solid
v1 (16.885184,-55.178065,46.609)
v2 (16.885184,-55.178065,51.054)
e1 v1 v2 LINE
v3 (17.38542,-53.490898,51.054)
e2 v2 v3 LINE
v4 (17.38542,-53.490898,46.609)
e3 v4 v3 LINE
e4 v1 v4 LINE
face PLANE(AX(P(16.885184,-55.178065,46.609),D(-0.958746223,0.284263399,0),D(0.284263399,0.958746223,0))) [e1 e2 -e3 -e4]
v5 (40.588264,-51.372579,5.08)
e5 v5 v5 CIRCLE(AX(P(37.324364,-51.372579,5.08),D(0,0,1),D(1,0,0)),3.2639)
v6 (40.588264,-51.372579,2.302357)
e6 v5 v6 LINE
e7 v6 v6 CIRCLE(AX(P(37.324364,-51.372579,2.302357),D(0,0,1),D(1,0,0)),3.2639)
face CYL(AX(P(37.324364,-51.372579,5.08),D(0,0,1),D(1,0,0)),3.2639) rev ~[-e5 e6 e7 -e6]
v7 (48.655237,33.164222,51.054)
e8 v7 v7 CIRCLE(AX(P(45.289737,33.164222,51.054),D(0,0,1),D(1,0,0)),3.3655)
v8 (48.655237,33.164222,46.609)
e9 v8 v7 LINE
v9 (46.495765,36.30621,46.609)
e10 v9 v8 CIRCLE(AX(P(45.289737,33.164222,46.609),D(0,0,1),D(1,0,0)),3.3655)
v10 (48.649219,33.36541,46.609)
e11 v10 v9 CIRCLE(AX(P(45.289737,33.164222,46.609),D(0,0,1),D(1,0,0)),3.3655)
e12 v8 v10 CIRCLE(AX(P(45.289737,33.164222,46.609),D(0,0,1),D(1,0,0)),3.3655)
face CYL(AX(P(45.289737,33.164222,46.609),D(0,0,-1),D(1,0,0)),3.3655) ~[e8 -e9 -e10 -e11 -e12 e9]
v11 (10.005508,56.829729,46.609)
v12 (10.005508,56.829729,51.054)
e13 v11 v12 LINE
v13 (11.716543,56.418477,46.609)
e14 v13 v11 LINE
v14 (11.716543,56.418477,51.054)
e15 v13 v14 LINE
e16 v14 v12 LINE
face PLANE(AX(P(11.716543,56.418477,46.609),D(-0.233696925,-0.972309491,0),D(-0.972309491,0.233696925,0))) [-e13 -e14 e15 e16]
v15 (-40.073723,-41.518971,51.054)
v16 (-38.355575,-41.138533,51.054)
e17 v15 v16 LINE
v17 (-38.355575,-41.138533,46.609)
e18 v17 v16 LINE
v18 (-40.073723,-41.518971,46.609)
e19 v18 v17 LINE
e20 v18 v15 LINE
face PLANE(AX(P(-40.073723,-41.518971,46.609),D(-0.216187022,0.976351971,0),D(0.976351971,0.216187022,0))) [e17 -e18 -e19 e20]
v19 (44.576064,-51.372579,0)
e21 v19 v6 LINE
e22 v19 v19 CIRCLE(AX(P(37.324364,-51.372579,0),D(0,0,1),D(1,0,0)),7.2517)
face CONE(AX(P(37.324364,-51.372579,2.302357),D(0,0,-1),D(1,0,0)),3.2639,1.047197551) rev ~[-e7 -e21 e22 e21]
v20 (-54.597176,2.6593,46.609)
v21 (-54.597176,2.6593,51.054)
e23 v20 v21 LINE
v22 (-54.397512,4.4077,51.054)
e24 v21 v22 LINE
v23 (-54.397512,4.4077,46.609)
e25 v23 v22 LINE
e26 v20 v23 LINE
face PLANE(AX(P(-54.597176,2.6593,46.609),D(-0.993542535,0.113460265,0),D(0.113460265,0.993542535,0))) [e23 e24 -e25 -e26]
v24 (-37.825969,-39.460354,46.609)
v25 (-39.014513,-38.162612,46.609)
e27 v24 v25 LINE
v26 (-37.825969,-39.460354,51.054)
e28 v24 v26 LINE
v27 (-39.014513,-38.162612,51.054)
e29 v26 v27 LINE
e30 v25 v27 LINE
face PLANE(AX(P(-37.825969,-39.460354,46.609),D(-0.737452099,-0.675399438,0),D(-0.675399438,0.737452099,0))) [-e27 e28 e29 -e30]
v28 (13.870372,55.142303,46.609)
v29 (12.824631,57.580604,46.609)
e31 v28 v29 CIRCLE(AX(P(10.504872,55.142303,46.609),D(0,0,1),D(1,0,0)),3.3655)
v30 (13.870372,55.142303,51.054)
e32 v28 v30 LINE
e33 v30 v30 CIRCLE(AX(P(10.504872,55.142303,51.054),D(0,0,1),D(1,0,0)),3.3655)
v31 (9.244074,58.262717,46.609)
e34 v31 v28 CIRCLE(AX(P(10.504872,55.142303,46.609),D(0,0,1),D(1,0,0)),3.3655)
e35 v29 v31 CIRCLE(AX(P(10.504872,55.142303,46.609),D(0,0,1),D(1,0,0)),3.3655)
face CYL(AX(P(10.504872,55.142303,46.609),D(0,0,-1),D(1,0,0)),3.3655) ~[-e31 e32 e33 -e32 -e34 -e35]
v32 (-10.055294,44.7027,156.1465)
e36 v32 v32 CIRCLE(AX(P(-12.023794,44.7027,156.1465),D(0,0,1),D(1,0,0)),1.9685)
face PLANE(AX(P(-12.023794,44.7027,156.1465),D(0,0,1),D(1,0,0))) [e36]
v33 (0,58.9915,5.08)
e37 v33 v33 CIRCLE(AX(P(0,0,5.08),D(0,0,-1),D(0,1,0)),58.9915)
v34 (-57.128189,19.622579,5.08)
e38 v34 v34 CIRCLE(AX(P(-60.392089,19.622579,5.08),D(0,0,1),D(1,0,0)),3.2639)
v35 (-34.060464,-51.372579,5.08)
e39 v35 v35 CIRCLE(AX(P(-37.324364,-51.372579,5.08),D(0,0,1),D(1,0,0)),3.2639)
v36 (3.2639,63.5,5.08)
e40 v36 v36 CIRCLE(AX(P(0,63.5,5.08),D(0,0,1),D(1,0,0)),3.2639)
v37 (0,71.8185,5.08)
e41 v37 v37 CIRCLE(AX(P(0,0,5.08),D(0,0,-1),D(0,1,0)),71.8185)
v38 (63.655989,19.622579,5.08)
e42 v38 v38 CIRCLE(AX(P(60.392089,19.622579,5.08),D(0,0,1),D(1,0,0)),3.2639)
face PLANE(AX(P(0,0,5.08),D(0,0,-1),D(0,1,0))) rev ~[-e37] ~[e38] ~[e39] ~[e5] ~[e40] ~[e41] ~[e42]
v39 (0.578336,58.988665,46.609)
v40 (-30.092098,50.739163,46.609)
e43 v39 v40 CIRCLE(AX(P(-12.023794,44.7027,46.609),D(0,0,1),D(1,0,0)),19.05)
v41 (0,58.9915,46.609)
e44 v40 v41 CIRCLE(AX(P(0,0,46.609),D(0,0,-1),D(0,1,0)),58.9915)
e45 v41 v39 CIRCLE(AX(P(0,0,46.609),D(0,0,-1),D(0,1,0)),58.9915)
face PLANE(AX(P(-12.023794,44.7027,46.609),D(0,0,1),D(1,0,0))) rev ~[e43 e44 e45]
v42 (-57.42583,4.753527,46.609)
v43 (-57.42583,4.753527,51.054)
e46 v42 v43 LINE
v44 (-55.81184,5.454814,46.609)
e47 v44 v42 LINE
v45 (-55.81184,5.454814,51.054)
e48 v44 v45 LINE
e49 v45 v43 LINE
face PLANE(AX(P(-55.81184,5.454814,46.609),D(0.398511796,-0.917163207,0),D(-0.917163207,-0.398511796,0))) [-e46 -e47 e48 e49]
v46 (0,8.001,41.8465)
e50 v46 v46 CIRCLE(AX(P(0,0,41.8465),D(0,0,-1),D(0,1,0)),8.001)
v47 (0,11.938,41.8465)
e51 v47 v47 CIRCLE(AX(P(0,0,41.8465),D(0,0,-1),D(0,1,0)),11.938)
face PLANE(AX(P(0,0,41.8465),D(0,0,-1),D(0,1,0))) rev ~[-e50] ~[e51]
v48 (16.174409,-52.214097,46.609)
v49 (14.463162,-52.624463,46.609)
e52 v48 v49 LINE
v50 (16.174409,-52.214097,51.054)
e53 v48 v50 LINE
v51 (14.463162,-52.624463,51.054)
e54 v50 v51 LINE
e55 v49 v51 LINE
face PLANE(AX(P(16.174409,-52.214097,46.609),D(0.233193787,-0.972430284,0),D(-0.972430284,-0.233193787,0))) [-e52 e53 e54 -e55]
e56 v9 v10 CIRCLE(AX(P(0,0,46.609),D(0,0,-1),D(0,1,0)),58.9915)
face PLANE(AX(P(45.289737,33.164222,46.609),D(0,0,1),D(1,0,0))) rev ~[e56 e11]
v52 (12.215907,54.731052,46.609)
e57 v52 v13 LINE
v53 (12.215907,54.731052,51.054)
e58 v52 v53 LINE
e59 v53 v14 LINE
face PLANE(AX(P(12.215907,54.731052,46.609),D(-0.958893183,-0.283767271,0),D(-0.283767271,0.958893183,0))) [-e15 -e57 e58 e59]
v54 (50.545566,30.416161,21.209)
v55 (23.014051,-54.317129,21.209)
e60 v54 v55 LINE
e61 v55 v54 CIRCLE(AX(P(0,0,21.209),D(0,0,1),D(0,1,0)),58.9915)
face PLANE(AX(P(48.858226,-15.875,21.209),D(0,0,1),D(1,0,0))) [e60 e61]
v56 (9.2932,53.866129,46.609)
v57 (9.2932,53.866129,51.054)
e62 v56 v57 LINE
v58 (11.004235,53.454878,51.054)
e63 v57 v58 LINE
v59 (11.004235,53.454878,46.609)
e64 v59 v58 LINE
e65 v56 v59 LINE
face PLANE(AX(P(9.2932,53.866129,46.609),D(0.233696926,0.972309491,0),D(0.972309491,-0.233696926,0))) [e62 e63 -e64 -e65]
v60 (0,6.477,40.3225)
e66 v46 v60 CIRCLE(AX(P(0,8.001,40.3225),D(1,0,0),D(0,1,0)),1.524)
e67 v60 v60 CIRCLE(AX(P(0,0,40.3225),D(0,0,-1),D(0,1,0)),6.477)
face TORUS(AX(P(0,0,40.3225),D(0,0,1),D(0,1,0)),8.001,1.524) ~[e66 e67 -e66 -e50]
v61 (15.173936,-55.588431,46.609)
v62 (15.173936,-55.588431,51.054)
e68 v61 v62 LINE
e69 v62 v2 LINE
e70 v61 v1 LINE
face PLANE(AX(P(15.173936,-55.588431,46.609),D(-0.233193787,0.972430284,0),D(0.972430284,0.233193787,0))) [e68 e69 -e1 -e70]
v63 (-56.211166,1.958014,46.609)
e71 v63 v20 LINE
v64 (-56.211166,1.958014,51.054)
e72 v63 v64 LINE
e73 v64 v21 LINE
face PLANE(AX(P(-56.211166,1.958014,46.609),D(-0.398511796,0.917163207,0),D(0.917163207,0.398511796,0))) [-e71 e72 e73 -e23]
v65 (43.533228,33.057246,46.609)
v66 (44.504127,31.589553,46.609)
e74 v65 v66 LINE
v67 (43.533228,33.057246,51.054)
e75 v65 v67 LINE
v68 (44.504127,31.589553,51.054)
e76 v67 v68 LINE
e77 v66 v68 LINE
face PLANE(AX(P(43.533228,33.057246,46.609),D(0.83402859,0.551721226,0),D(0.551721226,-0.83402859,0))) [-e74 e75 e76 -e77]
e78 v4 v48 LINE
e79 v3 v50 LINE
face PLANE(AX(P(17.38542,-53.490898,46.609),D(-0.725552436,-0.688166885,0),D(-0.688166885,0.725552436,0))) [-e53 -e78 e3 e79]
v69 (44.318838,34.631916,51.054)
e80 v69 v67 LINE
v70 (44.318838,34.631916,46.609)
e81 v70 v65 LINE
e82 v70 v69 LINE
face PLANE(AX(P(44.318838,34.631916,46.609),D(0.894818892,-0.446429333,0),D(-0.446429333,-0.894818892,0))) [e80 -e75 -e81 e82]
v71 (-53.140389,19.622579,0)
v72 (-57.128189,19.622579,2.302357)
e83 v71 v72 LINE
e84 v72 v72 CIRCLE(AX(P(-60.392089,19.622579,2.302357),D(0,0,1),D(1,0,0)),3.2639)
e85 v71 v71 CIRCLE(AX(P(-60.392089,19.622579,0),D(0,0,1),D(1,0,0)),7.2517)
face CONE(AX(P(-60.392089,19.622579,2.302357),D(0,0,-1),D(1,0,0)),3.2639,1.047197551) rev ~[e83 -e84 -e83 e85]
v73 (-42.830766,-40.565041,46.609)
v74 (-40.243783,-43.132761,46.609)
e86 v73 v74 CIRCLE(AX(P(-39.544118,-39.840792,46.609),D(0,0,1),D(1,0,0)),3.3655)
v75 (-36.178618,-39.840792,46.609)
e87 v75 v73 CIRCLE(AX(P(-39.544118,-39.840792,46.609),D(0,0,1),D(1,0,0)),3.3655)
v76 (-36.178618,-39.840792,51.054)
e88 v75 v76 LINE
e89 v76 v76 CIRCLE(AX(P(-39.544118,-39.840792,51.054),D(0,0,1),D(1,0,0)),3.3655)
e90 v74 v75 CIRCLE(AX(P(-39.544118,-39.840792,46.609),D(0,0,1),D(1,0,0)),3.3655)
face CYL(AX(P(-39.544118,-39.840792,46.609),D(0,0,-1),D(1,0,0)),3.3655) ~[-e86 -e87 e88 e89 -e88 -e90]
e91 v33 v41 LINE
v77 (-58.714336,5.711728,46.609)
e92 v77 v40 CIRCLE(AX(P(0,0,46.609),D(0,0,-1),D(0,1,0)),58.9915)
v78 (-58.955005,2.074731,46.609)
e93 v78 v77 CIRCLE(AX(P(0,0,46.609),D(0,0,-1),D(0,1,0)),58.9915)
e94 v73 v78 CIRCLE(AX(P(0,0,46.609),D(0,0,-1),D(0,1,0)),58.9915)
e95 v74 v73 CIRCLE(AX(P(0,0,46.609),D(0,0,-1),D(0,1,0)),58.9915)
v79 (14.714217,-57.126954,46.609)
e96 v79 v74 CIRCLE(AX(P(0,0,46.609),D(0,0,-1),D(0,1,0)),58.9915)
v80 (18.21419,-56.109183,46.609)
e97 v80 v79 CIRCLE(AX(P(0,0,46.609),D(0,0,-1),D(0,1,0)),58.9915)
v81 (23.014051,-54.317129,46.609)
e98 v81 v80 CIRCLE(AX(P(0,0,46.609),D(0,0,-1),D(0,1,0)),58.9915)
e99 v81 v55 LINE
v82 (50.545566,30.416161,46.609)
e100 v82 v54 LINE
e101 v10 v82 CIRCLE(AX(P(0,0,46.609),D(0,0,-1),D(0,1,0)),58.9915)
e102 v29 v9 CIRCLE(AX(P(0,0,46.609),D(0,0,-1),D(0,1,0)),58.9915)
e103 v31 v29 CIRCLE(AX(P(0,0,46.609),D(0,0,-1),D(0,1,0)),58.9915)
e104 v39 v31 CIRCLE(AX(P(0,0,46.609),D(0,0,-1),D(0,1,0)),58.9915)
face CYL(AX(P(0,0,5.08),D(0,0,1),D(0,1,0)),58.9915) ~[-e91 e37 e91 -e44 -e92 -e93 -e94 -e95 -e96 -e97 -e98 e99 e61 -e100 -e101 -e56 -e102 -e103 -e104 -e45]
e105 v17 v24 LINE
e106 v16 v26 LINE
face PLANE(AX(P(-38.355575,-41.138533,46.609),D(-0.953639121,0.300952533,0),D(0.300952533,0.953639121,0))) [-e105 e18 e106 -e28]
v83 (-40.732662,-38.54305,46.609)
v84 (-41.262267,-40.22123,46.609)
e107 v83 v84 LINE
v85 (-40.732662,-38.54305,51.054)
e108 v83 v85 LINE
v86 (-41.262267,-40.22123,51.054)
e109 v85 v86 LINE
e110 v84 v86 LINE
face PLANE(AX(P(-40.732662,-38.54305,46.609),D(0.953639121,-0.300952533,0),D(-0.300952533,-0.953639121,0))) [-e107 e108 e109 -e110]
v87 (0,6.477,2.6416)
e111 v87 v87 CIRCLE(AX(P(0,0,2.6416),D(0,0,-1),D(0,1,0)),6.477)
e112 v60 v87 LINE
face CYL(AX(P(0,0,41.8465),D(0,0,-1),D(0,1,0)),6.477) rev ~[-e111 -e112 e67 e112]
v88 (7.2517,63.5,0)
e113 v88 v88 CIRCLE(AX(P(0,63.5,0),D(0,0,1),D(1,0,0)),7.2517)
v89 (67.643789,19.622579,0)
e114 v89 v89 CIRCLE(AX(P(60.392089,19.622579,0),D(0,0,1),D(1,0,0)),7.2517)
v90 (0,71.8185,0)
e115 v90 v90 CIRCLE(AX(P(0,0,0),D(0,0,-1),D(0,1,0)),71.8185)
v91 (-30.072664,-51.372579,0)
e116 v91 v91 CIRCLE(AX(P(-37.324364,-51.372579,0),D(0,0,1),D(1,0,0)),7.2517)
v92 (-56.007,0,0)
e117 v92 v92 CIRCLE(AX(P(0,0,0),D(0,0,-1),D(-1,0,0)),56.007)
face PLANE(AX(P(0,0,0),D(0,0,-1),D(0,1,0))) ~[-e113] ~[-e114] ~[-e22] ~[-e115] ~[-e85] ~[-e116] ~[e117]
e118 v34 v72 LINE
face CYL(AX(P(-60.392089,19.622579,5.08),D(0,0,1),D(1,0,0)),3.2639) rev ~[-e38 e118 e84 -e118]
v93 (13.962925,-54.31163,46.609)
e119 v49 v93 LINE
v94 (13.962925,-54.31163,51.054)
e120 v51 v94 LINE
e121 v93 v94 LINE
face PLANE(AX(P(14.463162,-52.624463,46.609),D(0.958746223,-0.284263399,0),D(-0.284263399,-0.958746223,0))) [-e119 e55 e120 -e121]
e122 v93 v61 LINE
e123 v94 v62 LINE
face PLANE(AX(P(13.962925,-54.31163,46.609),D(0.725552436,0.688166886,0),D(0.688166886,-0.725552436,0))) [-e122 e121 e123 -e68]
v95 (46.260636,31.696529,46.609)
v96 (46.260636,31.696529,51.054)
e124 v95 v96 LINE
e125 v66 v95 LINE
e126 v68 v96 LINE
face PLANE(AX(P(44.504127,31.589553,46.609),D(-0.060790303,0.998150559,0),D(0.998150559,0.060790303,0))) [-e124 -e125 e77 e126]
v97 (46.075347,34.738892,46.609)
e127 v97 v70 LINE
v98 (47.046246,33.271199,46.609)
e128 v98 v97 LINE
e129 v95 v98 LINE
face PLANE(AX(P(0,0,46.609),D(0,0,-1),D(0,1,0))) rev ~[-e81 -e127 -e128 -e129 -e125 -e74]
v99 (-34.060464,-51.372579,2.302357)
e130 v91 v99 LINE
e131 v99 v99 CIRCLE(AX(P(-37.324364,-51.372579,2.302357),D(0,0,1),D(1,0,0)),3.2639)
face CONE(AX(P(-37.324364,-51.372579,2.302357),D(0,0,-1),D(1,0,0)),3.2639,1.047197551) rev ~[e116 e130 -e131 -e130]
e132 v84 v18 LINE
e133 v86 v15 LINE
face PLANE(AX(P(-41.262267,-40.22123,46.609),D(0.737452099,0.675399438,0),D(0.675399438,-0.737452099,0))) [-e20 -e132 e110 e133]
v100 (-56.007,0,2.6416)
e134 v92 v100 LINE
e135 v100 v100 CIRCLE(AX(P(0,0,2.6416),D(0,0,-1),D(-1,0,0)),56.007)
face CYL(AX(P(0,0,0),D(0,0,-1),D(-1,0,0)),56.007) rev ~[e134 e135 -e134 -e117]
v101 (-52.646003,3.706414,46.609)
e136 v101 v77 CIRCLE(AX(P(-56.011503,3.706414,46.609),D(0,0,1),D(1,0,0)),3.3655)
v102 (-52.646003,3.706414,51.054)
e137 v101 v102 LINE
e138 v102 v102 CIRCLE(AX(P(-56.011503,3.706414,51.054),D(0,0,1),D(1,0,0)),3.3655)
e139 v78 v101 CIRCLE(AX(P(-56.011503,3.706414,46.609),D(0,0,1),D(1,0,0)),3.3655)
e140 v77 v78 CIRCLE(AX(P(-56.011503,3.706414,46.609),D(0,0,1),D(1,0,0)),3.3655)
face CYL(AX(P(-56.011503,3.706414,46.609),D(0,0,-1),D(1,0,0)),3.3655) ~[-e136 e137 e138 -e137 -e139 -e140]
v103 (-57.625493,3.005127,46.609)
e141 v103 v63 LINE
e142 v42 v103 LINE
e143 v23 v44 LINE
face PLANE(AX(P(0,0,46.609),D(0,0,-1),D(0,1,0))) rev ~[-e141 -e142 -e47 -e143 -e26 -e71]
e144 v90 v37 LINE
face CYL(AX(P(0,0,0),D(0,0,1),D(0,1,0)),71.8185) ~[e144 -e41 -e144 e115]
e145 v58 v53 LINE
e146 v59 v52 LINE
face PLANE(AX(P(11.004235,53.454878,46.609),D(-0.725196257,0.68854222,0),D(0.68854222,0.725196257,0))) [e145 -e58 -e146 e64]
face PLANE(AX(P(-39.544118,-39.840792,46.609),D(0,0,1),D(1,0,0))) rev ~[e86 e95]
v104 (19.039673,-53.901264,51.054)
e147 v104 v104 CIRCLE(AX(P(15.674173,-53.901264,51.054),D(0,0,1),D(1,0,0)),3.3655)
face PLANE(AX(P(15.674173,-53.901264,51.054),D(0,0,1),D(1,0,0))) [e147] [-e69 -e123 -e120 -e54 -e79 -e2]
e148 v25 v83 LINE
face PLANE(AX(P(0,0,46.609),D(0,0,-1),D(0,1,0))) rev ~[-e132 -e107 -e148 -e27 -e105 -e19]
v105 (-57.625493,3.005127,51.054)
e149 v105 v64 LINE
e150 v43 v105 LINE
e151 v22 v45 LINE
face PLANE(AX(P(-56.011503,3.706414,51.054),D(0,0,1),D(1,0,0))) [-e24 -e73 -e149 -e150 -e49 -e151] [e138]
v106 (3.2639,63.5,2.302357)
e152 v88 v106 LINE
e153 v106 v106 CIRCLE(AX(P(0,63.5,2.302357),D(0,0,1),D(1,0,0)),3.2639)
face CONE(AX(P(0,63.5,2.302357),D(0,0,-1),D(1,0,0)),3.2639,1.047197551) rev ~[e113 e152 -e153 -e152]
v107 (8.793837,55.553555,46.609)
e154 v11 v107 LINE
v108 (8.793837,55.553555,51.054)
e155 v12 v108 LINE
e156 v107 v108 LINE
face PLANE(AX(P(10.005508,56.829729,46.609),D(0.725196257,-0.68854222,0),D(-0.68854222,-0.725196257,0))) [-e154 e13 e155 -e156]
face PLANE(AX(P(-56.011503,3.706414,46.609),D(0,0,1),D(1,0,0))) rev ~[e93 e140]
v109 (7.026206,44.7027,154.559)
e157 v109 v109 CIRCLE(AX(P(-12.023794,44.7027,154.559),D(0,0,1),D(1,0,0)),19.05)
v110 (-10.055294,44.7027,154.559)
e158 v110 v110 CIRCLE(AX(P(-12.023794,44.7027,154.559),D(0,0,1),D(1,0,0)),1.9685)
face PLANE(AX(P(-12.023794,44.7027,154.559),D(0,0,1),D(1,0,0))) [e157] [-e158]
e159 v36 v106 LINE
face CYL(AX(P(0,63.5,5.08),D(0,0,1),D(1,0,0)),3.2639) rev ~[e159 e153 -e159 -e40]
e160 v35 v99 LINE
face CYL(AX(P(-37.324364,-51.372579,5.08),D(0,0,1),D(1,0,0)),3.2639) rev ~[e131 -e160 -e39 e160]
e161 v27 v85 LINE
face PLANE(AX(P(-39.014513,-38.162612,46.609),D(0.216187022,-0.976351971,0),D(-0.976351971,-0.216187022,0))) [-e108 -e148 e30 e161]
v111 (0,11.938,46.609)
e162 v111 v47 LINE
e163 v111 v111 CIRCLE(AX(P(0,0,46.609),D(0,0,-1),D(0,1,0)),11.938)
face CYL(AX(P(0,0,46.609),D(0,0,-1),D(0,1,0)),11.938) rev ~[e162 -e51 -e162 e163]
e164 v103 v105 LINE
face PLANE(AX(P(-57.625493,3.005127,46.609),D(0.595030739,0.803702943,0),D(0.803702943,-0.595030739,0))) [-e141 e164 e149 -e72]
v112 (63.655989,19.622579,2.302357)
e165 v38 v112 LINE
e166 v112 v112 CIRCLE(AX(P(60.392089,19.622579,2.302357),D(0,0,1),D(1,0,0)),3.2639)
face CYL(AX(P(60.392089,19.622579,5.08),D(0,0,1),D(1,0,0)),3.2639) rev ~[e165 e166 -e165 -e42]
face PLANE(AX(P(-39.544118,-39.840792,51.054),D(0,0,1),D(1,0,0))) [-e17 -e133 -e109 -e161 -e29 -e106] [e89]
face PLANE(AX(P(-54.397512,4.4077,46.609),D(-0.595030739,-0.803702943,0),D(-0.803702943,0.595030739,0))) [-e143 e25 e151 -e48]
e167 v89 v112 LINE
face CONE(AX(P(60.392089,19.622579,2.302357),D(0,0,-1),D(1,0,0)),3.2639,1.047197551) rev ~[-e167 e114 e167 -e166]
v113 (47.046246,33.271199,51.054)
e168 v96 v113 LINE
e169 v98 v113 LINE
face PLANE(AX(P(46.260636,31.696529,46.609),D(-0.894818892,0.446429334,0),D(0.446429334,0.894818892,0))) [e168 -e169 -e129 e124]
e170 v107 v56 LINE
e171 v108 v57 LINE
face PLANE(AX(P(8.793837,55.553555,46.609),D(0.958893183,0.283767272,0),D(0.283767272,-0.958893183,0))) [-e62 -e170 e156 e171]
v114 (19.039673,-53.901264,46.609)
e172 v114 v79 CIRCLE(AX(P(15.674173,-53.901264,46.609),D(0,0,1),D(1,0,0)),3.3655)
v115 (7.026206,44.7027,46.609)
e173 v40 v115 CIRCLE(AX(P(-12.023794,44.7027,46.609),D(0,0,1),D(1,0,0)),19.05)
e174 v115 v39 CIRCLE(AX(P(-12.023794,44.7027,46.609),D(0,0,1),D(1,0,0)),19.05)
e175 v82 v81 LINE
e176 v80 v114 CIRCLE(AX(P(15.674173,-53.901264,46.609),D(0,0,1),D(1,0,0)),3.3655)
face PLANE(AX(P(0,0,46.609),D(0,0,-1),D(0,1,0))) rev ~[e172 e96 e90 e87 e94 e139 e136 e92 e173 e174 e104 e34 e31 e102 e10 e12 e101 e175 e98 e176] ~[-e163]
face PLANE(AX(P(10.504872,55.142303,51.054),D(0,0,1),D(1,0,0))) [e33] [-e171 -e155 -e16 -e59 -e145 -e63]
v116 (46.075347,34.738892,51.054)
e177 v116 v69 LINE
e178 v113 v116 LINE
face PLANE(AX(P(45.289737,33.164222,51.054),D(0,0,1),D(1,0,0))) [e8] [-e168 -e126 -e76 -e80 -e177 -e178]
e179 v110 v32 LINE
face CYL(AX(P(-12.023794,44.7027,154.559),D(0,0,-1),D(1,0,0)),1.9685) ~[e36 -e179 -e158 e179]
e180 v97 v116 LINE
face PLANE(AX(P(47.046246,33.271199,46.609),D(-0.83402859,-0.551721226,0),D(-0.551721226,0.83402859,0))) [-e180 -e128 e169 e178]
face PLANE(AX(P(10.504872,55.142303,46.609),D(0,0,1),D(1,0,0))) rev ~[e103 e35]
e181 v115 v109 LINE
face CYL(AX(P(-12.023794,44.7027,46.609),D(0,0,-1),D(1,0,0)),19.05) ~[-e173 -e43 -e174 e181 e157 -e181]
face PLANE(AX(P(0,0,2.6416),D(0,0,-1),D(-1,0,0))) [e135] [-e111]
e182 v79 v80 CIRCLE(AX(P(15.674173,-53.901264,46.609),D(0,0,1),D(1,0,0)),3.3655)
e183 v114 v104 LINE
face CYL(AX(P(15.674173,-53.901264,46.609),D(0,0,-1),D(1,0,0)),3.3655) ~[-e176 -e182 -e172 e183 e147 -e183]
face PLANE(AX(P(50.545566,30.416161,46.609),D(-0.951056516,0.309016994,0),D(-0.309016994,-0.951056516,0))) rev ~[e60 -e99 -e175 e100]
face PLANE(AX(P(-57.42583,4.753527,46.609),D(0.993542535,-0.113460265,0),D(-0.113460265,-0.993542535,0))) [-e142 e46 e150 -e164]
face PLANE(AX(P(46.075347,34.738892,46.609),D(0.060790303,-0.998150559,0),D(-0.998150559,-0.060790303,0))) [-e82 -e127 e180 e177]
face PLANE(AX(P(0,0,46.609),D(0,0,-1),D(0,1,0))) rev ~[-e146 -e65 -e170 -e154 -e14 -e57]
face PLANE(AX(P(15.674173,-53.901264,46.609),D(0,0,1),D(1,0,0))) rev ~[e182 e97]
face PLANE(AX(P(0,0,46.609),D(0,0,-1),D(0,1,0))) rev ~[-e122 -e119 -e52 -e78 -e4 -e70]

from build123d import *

# Parameters (mm, degrees)
FILLET1_R          = 1.524
SKETCH3_R          = 56.007
EXTRUDE1_DEPTH     = 2.6416
EXTRUDE3_REACH     = 7.08
SKETCH5_R          = 3.2639
CHAMFER1_SIZE      = 3.9878
CHAMFER1_SIZE2     = 2.302357403
EXTRUDE4_DEPTH     = 25.4
SKETCH7_R          = 19.05
EXTRUDE5_DEPTH     = 107.95
SKETCH9_R          = 3.3655
EXTRUDE6_DEPTH     = 4.445
SKETCH10_R         = 1.9685
EXTRUDE7_DEPTH     = 24.765
CUT_EXTRUDE1_START = 1.5875
SKETCH15_R         = 1.9685
CUT_EXTRUDE1_DEPTH = 24.1775


with BuildPart() as part:
    # Sketch2 → Revolve1 (revolve)
    with BuildSketch(Plane(origin=(0, 0, 0), x_dir=(0, 0, -1), z_dir=(1, 0, 0))):
        Polygon((0, 6.477), (0, 71.8185), (-5.08, 71.8185), (-5.08, 58.9915), (-46.609, 58.9915), (-46.609, 11.938), (-41.8465, 11.938), (-41.8465, 6.477), align=None)
    revolve(axis=Axis((0, 0, 46.609), (0, 0, -1)))

    # Fillet1
    fillet1_edges = [part.edges().sort_by_distance(p)[0] for p in [
        (0, -6.477, 41.8465),
    ]]
    fillet(fillet1_edges, radius=FILLET1_R)

    # Sketch3 → Extrude1 (cut)
    with BuildSketch(Plane(origin=(0, 0, 0), x_dir=(-1, 0, 0), z_dir=(0, 0, -1))):
        Circle(SKETCH3_R)
    extrude(amount=-EXTRUDE1_DEPTH, mode=Mode.SUBTRACT)

    # Sketch5 → Extrude3 (cut, up to next)
    with BuildSketch(Plane.XY.offset(5.08), mode=Mode.PRIVATE) as extrude3_sk1:
        with Locations((0, 63.5)):
            Circle(SKETCH5_R)
    extrude3_tool1 = extrude(extrude3_sk1.sketch, amount=-EXTRUDE3_REACH, mode=Mode.PRIVATE) & part.part
    add(extrude3_tool1.solids().sort_by_distance((0, 63.5, 5.08))[0], mode=Mode.SUBTRACT)
    # Sketch5 → Extrude3 (cut, up to next)
    with BuildSketch(Plane.XY.offset(5.08), mode=Mode.PRIVATE) as extrude3_sk2:
        with Locations((60.392088785, 19.622579143)):
            Circle(SKETCH5_R)
    extrude3_tool2 = extrude(extrude3_sk2.sketch, amount=-EXTRUDE3_REACH, mode=Mode.PRIVATE) & part.part
    add(extrude3_tool2.solids().sort_by_distance((60.392089, 19.622579, 5.08))[0], mode=Mode.SUBTRACT)
    # Sketch5 → Extrude3 (cut, up to next)
    with BuildSketch(Plane.XY.offset(5.08), mode=Mode.PRIVATE) as extrude3_sk3:
        with Locations((37.324363521, -51.372579143)):
            Circle(SKETCH5_R)
    extrude3_tool3 = extrude(extrude3_sk3.sketch, amount=-EXTRUDE3_REACH, mode=Mode.PRIVATE) & part.part
    add(extrude3_tool3.solids().sort_by_distance((37.324364, -51.372579, 5.08))[0], mode=Mode.SUBTRACT)
    # Sketch5 → Extrude3 (cut, up to next)
    with BuildSketch(Plane.XY.offset(5.08), mode=Mode.PRIVATE) as extrude3_sk4:
        with Locations((-37.324363521, -51.372579143)):
            Circle(SKETCH5_R)
    extrude3_tool4 = extrude(extrude3_sk4.sketch, amount=-EXTRUDE3_REACH, mode=Mode.PRIVATE) & part.part
    add(extrude3_tool4.solids().sort_by_distance((-37.324364, -51.372579, 5.08))[0], mode=Mode.SUBTRACT)
    # Sketch5 → Extrude3 (cut, up to next)
    with BuildSketch(Plane.XY.offset(5.08), mode=Mode.PRIVATE) as extrude3_sk5:
        with Locations((-60.392088785, 19.622579143)):
            Circle(SKETCH5_R)
    extrude3_tool5 = extrude(extrude3_sk5.sketch, amount=-EXTRUDE3_REACH, mode=Mode.PRIVATE) & part.part
    add(extrude3_tool5.solids().sort_by_distance((-60.392089, 19.622579, 5.08))[0], mode=Mode.SUBTRACT)

    # Chamfer1
    chamfer1_edges = [part.edges().sort_by_distance(p)[0] for p in [
        (-3.2639, 63.5, 0),
        (57.128188785, 19.622579143, 0),
        (34.060463521, -51.372579143, 0),
        (-40.588263521, -51.372579143, 0),
        (-63.655988785, 19.622579143, 0),
    ]]
    chamfer1_side = [part.faces().sort_by_distance(p)[0] for p in [
        (0, -69.787166065, 0),
    ]]
    chamfer(chamfer1_edges, length=CHAMFER1_SIZE, length2=CHAMFER1_SIZE2, reference=chamfer1_side[0])

    # Sketch6 → Extrude4 (cut)
    with BuildSketch(Plane.XY.offset(46.609)):
        Polygon((50.54556585, 30.416160921), (23.014050942, -54.317129264), (47.170886456, -62.166160921), (74.702401364, 22.567129264), align=None)
    extrude(amount=-EXTRUDE4_DEPTH, mode=Mode.SUBTRACT)

    # Sketch7 → Extrude5 (add)
    with BuildSketch(Plane.XY.offset(46.609)):
        with Locations((-12.023794238, 44.70269952)):
            Circle(SKETCH7_R)
    extrude(amount=EXTRUDE5_DEPTH)

    # Sketch9 → Extrude6 (add)
    with BuildSketch(Plane.XY.offset(46.609)):
        with Locations((45.289737364, 33.164222372)):
            Circle(SKETCH9_R)
        Polygon((46.260636305, 31.696529201), (47.046246406, 33.271198934), (46.075347464, 34.738892106), (44.318838422, 34.631915543), (43.533228322, 33.057245809), (44.504127263, 31.589552638), align=None, mode=Mode.SUBTRACT)
        with Locations((10.504871796, 55.142303403)):
            Circle(SKETCH9_R)
        Polygon((12.215906667, 54.731052055), (11.716543346, 56.418477394), (10.005508475, 56.829728741), (8.793836925, 55.55355475), (9.293200246, 53.866129412), (11.004235117, 53.454878064), align=None, mode=Mode.SUBTRACT)
        with Locations((15.674172573, -53.901264087)):
            Circle(SKETCH9_R)
        Polygon((13.962925135, -54.311630029), (15.173936185, -55.588430811), (16.885183622, -55.178064869), (17.38542001, -53.490898144), (16.174408961, -52.214097362), (14.463161523, -52.624463305), align=None, mode=Mode.SUBTRACT)
        with Locations((-56.011502863, 3.706413765)):
            Circle(SKETCH9_R)
        Polygon((-55.811839617, 5.454813773), (-57.425830063, 4.753527212), (-57.625493309, 3.005127204), (-56.211166109, 1.958013757), (-54.597175663, 2.659300318), (-54.397512417, 4.407700326), align=None, mode=Mode.SUBTRACT)
        with Locations((-39.544118158, -39.840791598)):
            Circle(SKETCH9_R)
        Polygon((-40.732661518, -38.543050222), (-41.262266837, -40.221229654), (-40.073723476, -41.51897103), (-38.355574797, -41.138532974), (-37.825969478, -39.460353542), (-39.014512839, -38.162612166), align=None, mode=Mode.SUBTRACT)
    extrude(amount=EXTRUDE6_DEPTH)

    # Sketch10 → Extrude7 (add)
    with BuildSketch(Plane.XY.offset(154.559)):
        with Locations((-12.023794238, 44.70269952)):
            Circle(SKETCH10_R)
    extrude(amount=EXTRUDE7_DEPTH)

    # Sketch15 → Cut-Extrude1 (cut, through all)
    with BuildSketch(Plane.XY.offset(154.559).offset(CUT_EXTRUDE1_START)):
        with Locations((-12.023794238, 44.70269952)):
            Circle(SKETCH15_R)
    extrude(amount=CUT_EXTRUDE1_DEPTH, mode=Mode.SUBTRACT)


solid = part.part
